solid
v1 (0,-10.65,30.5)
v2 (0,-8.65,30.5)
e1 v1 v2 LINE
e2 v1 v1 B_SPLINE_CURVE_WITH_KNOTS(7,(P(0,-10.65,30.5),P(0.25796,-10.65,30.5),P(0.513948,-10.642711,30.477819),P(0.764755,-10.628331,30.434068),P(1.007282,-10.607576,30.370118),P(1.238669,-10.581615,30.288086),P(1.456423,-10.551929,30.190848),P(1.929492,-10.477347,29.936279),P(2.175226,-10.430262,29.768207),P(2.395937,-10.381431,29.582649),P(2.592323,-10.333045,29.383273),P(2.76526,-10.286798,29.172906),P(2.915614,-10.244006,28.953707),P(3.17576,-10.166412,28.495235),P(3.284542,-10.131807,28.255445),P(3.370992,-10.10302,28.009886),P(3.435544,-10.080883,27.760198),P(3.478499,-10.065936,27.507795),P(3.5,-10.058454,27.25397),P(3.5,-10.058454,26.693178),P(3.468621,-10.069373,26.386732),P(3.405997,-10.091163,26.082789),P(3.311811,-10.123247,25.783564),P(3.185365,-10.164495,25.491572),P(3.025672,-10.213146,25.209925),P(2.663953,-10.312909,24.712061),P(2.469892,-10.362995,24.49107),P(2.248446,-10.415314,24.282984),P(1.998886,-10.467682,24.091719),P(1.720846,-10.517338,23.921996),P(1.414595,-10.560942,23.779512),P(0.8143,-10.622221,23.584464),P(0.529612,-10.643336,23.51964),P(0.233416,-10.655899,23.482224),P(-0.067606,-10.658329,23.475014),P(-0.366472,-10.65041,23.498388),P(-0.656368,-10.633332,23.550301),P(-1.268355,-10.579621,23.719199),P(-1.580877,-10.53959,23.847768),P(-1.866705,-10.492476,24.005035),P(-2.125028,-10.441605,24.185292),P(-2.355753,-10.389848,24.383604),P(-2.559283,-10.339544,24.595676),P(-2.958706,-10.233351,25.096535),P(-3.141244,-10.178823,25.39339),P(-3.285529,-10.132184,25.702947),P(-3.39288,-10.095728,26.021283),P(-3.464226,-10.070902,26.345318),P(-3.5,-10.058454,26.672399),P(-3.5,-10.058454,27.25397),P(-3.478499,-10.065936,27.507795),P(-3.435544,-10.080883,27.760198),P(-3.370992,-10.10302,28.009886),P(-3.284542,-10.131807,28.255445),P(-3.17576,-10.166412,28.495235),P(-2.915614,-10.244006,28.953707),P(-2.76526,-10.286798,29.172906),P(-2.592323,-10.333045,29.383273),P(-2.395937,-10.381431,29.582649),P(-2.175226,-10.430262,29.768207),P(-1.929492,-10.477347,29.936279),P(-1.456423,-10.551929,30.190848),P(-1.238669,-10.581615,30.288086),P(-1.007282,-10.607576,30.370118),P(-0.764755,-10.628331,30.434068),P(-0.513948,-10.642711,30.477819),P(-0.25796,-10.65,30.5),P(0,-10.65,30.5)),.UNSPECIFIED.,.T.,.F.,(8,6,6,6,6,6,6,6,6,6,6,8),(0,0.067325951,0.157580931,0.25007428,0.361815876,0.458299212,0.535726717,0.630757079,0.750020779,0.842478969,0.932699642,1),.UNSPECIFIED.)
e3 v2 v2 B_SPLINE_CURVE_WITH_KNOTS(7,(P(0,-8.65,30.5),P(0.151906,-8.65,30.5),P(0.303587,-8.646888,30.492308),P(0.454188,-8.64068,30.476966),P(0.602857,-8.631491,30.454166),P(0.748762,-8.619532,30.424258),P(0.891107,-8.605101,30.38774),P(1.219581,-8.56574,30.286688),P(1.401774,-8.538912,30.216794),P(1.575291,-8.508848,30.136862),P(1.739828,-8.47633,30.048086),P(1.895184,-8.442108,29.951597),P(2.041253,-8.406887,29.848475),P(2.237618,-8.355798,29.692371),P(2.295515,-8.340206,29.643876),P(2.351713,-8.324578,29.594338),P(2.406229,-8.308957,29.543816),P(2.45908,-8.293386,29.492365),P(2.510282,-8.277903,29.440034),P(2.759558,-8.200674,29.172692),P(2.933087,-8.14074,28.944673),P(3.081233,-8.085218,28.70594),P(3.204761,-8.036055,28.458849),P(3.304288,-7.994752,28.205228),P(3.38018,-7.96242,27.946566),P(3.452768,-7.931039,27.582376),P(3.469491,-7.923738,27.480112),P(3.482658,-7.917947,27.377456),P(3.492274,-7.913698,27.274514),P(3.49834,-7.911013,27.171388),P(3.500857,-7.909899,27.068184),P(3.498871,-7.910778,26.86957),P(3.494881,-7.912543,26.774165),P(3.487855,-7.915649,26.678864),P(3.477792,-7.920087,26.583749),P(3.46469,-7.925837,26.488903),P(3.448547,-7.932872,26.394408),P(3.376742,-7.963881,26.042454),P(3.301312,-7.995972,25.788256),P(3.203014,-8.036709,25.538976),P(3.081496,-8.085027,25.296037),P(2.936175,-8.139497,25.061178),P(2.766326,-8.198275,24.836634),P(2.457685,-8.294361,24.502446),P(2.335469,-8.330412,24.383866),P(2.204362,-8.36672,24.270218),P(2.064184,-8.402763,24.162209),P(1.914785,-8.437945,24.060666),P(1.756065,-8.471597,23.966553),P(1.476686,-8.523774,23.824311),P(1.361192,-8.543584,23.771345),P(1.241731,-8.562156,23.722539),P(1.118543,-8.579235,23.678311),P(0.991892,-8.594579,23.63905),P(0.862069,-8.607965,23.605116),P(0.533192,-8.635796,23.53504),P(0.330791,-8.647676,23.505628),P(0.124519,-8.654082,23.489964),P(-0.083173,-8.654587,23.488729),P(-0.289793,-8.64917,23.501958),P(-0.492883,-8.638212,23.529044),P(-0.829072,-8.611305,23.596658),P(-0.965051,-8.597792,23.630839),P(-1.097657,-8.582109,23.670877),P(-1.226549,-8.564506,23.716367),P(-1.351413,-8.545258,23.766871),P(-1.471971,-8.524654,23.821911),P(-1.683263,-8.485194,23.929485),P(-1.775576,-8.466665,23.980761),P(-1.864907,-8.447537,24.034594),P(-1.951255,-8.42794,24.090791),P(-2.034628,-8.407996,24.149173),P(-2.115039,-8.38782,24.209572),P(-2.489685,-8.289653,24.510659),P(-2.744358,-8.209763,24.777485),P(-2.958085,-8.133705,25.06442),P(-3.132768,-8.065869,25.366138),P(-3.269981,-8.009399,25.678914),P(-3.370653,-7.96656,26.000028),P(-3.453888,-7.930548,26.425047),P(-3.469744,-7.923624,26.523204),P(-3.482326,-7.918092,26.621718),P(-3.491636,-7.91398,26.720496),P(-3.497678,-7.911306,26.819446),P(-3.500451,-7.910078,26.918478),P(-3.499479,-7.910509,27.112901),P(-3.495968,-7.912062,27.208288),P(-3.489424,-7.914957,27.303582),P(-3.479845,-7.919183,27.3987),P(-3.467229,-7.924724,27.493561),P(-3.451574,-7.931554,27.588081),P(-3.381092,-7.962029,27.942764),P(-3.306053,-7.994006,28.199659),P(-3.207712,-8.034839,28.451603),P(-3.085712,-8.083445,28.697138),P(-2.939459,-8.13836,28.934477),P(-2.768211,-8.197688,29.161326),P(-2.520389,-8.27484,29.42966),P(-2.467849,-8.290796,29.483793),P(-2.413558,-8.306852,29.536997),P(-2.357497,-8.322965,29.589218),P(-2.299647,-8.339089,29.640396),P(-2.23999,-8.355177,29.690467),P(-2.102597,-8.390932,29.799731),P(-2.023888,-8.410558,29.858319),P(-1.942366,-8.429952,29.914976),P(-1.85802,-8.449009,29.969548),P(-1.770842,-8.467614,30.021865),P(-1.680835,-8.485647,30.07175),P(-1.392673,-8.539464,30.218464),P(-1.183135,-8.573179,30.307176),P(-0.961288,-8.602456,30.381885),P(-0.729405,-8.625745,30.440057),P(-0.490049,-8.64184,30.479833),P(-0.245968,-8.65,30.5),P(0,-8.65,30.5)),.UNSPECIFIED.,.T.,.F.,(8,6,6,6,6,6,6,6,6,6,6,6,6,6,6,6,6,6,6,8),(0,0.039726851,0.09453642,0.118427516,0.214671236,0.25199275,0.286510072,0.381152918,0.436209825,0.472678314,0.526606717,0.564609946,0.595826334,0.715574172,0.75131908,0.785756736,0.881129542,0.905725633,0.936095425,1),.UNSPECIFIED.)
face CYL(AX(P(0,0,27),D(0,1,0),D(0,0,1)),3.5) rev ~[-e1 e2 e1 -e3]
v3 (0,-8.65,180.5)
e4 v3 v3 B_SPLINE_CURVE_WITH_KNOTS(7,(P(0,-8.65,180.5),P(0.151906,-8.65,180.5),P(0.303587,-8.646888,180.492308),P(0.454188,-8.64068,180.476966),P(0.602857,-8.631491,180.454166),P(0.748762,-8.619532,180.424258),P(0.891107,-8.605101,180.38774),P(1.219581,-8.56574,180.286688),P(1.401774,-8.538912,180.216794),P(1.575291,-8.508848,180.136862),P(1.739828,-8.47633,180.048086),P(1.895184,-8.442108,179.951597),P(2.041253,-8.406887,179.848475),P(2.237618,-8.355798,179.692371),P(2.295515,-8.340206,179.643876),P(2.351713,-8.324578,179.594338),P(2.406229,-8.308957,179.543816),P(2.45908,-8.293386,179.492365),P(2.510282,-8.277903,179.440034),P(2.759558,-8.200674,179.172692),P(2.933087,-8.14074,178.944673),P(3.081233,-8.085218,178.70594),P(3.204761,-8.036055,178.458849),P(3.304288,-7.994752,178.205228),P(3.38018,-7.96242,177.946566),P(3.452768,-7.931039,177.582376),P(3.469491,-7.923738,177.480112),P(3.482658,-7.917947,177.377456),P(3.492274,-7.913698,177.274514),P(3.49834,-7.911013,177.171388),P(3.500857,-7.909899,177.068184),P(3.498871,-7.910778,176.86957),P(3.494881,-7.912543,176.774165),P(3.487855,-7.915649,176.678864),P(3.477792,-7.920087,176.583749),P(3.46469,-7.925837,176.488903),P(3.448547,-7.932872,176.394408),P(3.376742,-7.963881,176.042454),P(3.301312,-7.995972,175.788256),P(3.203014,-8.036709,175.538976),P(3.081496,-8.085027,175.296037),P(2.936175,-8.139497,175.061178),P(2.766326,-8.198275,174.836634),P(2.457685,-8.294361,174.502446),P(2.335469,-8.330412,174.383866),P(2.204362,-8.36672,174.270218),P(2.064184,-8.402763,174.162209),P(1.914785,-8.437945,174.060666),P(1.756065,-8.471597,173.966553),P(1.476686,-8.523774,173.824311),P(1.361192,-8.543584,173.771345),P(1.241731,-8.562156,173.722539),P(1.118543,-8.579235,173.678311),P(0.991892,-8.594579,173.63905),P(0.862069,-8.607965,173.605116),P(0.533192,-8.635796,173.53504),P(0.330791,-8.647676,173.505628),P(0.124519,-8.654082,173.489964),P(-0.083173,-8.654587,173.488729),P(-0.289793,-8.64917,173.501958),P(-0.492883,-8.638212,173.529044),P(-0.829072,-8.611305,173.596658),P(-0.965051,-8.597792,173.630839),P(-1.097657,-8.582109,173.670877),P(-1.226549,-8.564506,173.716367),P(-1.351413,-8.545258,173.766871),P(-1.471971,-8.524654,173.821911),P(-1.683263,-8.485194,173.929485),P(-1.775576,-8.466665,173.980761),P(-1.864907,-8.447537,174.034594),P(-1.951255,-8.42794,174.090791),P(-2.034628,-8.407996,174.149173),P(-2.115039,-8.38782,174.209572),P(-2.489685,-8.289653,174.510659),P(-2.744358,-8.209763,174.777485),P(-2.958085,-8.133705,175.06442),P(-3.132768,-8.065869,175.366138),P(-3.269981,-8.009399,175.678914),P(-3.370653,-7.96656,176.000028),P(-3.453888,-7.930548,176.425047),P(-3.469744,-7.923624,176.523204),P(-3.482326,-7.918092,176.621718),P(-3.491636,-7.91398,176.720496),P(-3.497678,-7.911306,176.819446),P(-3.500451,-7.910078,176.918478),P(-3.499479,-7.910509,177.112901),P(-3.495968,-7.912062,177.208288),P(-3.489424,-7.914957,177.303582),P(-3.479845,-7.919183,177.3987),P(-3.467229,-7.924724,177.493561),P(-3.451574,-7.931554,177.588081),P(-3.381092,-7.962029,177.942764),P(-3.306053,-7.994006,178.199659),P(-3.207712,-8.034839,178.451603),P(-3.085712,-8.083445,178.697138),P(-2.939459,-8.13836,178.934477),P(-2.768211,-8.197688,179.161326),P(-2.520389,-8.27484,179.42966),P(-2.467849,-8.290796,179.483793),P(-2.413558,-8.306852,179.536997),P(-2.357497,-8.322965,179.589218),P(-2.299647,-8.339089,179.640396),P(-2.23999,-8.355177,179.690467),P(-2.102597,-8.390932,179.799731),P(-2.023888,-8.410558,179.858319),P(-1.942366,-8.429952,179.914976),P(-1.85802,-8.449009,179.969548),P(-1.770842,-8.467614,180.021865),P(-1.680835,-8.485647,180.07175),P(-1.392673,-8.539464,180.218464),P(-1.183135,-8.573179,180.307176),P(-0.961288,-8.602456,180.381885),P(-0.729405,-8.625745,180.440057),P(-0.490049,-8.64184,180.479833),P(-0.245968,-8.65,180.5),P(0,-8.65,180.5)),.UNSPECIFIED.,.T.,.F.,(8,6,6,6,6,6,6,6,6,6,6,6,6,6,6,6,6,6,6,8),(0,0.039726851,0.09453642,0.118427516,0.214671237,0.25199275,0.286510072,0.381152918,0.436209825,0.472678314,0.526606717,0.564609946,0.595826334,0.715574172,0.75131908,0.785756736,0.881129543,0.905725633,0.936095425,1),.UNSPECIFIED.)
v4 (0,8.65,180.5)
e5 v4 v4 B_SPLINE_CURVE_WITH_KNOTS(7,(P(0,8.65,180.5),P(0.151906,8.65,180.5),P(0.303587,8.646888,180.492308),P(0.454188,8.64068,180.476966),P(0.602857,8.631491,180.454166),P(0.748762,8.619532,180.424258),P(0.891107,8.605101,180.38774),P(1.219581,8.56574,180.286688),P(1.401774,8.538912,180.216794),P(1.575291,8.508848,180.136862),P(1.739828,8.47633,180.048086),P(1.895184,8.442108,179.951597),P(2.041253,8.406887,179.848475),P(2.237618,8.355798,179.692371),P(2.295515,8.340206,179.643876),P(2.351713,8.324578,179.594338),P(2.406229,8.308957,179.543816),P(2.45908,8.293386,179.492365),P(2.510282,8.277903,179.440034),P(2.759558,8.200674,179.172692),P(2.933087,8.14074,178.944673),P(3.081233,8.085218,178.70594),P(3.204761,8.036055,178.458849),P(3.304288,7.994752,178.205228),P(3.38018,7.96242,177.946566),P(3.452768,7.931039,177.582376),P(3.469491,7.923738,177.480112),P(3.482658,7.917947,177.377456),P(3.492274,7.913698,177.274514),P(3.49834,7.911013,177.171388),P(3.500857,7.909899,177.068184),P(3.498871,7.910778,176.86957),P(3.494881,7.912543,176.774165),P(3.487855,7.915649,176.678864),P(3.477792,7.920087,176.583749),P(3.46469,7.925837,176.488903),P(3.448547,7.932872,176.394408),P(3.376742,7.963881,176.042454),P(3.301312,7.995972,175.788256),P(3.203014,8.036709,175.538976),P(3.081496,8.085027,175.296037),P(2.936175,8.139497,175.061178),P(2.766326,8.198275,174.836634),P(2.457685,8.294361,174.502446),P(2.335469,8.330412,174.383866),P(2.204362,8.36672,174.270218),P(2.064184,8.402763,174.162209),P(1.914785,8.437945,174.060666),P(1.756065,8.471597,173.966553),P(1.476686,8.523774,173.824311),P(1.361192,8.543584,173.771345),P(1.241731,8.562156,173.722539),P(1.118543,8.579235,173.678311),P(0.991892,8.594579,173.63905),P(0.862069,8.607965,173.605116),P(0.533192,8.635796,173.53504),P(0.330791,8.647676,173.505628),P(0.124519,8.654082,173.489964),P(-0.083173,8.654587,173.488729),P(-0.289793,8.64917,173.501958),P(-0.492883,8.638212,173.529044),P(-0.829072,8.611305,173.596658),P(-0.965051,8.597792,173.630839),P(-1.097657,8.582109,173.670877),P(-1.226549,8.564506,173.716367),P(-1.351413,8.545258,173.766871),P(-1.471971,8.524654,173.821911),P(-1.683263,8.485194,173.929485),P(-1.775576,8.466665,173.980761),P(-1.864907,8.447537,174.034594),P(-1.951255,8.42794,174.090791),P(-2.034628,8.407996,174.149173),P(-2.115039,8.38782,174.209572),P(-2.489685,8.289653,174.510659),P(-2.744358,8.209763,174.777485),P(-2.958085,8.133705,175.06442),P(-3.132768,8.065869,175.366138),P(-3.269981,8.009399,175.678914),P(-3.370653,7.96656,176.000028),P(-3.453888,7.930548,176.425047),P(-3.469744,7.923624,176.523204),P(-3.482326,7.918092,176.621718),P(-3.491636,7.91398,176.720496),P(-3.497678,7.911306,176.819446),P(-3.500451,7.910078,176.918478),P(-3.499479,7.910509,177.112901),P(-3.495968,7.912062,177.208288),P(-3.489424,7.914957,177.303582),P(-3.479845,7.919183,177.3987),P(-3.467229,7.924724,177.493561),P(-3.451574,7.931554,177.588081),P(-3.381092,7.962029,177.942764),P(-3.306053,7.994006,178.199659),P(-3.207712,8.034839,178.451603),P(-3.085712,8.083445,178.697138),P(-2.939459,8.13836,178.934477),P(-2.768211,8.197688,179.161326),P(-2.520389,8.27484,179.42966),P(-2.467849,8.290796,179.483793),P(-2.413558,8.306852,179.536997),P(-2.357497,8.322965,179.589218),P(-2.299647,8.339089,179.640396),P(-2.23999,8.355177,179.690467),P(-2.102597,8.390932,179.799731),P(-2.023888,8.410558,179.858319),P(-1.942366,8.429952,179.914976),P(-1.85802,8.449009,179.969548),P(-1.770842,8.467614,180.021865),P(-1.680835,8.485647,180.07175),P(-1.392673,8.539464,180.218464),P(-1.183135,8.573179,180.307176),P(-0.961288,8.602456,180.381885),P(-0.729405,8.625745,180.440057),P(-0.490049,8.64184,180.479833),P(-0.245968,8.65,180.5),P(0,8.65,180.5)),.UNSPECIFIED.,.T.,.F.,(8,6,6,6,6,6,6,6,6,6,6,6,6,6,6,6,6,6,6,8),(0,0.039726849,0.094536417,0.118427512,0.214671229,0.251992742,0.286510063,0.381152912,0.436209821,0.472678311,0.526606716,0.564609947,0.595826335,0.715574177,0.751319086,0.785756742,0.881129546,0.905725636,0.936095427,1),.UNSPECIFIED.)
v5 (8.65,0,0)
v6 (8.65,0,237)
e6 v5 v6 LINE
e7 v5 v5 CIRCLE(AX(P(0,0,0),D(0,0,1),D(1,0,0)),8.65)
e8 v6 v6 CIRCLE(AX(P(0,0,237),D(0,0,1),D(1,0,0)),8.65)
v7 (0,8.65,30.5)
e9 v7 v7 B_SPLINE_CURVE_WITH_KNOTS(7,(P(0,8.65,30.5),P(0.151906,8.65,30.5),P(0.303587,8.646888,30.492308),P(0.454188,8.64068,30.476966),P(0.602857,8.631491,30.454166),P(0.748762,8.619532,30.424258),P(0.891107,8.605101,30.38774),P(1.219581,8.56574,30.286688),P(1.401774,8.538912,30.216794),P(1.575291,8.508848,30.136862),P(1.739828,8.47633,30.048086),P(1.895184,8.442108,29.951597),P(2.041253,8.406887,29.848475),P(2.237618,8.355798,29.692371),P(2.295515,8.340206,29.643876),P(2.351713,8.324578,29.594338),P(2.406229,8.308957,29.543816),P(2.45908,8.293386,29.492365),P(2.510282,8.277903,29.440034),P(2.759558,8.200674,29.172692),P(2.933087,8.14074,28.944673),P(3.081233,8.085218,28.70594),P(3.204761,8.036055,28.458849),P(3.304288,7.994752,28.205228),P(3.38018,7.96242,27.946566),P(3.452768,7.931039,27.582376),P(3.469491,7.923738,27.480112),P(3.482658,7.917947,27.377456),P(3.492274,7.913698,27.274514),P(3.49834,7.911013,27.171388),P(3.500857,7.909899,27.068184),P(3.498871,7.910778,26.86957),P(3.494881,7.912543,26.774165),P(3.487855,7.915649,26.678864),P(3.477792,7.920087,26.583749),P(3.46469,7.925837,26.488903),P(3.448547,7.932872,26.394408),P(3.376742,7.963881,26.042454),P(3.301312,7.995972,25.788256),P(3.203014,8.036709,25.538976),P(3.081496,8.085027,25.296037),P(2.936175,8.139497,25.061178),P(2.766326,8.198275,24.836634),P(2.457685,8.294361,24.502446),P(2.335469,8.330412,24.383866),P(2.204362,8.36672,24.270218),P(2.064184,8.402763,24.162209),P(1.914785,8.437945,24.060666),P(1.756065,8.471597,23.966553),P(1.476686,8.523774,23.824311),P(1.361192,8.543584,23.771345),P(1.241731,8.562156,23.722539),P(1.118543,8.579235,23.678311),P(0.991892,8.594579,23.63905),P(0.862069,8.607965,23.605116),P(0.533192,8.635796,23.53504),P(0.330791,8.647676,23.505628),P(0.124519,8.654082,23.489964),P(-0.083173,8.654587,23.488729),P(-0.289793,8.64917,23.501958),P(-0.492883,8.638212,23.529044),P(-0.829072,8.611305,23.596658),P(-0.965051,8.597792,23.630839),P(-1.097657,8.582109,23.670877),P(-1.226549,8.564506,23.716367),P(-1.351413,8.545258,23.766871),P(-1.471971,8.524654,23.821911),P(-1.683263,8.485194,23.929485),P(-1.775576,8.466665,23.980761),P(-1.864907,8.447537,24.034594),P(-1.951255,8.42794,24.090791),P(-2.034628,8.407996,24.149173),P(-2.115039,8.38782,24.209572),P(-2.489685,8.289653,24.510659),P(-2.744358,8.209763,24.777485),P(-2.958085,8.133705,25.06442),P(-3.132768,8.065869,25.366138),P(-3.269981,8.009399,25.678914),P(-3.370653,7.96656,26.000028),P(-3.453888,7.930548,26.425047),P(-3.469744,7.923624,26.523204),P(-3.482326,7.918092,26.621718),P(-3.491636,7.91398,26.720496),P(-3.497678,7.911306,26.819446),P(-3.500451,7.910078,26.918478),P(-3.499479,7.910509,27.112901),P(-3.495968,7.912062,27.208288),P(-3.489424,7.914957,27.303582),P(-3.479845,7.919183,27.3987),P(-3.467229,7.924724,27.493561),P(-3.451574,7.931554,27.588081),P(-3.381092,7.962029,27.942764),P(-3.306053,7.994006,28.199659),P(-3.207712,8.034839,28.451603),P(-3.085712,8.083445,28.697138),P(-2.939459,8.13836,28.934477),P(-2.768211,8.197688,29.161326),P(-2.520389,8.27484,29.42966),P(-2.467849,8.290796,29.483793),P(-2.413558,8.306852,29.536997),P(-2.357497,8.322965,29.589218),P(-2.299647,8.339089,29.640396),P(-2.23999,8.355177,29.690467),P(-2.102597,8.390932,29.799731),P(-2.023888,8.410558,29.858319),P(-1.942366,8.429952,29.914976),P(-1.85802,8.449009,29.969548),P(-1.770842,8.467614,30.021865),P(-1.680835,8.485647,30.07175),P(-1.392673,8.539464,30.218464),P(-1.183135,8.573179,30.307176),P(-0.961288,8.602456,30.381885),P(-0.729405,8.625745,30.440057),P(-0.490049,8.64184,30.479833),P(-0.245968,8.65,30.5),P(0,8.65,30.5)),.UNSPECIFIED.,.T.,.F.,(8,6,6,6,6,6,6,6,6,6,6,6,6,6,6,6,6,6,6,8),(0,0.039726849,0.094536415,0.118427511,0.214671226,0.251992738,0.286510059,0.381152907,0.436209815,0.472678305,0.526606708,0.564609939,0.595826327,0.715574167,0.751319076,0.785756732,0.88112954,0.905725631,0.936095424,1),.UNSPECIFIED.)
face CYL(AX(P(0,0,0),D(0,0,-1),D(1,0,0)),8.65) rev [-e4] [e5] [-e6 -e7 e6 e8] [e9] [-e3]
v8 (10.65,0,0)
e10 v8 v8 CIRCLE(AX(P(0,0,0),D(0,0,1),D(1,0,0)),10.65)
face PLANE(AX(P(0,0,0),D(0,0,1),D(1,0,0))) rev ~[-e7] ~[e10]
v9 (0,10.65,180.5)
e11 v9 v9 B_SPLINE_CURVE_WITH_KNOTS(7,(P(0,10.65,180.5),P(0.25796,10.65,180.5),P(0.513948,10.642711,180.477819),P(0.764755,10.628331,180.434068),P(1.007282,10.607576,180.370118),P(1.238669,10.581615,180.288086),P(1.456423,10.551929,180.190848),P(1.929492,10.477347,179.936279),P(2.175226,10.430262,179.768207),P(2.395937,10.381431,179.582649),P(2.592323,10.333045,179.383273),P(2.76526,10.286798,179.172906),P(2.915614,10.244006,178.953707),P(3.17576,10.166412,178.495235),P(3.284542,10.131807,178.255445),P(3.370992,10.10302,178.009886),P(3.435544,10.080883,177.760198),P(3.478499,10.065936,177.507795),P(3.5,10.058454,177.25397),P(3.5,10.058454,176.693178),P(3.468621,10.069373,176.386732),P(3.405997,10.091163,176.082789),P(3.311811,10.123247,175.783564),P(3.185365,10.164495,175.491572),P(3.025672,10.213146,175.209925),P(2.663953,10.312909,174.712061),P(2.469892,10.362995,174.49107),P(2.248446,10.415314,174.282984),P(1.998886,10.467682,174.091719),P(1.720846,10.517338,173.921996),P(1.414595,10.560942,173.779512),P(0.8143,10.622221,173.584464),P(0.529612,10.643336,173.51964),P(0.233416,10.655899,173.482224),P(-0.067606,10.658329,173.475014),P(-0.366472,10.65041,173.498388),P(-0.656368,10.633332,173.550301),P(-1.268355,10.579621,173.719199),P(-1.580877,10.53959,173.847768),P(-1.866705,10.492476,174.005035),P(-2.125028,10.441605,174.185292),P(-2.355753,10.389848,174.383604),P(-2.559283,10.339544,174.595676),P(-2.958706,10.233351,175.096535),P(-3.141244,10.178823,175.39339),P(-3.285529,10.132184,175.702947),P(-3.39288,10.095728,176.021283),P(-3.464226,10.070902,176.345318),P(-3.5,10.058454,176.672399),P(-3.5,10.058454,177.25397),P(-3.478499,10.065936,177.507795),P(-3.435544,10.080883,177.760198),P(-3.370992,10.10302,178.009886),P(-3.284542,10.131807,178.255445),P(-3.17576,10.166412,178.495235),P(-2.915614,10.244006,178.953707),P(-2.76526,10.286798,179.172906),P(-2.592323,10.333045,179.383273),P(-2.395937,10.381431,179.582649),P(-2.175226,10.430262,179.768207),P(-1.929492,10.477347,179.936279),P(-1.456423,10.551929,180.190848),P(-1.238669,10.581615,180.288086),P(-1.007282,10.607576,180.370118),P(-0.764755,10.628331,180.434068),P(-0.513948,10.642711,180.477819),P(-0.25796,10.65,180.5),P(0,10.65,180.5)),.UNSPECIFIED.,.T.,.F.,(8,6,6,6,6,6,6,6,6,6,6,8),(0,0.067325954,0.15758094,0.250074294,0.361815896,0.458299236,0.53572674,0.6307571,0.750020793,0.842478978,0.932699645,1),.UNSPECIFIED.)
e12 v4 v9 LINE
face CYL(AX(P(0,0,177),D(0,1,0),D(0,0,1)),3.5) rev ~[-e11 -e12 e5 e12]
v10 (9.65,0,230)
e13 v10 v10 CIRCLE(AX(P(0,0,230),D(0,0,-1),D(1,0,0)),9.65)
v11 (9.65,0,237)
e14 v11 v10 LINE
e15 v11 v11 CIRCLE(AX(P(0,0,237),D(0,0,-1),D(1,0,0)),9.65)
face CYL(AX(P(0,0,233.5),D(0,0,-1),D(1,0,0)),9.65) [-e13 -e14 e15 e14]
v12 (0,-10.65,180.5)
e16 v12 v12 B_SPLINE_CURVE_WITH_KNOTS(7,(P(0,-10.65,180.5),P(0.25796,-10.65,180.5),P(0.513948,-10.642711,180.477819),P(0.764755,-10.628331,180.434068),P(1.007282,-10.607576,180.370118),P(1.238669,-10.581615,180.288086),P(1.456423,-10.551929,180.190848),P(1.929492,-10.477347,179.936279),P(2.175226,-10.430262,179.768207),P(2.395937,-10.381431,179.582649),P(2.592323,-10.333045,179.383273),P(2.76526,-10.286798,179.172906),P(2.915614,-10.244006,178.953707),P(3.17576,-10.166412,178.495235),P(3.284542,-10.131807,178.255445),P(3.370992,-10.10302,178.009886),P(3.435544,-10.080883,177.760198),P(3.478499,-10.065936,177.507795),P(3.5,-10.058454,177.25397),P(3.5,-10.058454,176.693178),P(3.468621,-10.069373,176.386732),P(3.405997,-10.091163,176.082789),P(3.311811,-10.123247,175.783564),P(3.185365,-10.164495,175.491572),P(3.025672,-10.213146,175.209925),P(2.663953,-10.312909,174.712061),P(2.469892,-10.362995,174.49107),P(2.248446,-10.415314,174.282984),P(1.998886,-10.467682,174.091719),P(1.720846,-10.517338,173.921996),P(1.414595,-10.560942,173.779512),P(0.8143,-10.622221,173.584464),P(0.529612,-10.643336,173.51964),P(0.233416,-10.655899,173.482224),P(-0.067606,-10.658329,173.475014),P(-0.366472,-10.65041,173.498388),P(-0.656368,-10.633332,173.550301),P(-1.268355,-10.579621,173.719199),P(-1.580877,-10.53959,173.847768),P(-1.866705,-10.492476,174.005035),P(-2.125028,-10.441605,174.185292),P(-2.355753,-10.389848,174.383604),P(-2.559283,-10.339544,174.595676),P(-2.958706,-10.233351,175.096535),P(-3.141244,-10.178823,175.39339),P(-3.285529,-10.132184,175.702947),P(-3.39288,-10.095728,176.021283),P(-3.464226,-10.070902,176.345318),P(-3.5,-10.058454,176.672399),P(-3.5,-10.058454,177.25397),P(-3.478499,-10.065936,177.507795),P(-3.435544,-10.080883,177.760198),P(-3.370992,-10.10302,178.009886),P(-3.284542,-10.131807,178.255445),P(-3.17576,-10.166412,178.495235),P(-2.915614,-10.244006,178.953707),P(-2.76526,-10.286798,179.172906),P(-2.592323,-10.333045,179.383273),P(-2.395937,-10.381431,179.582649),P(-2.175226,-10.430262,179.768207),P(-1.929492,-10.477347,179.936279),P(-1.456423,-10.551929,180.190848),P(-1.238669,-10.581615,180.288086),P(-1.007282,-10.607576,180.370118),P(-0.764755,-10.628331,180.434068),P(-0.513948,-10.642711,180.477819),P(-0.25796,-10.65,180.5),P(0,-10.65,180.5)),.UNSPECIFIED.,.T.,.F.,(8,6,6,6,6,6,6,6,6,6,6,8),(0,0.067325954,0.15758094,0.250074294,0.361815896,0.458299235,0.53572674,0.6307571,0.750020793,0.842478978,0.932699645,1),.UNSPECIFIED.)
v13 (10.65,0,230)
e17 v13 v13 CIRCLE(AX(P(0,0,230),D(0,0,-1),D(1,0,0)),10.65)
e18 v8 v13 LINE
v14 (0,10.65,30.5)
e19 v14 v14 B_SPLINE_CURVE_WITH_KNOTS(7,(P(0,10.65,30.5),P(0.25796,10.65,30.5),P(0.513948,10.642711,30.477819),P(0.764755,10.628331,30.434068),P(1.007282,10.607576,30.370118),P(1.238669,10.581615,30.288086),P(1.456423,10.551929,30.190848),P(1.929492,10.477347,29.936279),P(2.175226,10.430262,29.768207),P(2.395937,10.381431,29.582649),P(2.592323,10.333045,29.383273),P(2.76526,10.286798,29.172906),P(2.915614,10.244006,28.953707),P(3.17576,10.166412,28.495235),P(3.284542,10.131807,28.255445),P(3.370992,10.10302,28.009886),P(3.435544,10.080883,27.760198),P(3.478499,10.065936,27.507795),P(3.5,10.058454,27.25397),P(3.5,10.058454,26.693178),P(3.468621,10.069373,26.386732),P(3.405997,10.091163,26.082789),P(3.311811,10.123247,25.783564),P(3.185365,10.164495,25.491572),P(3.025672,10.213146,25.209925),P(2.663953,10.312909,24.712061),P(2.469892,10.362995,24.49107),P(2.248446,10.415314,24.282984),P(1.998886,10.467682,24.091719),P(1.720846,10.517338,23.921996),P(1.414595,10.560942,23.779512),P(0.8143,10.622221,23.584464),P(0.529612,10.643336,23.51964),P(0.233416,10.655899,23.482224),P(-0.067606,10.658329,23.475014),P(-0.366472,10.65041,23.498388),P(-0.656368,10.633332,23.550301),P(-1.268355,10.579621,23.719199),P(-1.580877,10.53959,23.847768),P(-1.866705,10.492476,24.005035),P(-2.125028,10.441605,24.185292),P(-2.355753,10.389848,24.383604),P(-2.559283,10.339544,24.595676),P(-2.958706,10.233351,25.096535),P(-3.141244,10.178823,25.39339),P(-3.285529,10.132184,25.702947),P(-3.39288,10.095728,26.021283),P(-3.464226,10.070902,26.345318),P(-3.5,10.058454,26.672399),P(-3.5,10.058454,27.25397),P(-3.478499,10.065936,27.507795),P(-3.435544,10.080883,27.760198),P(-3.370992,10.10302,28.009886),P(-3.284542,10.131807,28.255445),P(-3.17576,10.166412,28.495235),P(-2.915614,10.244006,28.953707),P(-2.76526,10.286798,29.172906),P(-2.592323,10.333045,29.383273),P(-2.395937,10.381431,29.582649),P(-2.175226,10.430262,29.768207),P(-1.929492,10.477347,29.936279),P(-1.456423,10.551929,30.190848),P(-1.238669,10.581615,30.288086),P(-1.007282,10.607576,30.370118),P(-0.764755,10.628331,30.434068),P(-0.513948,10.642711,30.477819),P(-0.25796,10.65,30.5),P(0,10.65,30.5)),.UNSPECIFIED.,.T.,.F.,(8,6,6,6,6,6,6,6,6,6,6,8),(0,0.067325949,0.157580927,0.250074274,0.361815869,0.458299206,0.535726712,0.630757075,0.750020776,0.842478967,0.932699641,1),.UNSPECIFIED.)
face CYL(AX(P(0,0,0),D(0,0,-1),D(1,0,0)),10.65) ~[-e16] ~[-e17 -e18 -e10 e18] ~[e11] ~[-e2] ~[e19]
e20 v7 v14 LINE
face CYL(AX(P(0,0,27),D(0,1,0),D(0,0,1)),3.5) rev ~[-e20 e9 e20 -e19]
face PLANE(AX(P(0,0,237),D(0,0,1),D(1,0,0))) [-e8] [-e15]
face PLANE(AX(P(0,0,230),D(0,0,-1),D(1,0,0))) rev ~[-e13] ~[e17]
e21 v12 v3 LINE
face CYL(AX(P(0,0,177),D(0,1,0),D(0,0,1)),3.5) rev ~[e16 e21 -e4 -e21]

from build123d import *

# Parameters (mm, degrees)
SKETCH1_R           = 10.65
SKETCH1_R_2         = 8.65
BOSS_EXTRUDE1_DEPTH = 237
SKETCH2_R           = 3.5
CUT_EXTRUDE1_DEPTH  = 238.478093727
LPATTERN1_COUNT     = 2
LPATTERN1_PITCH     = 150
SKETCH3_W           = 1
SKETCH3_H           = 7


with BuildPart() as part:
    # Sketch1 → Boss-Extrude1 (new body)
    with BuildSketch(Plane.XY):
        Circle(SKETCH1_R)
        Circle(SKETCH1_R_2, mode=Mode.SUBTRACT)
    extrude(amount=BOSS_EXTRUDE1_DEPTH)

    # Sketch2 → Cut-Extrude1 (cut, symmetric)
    with BuildSketch(Plane(origin=(0, 0, 0), x_dir=(1, 0, 0), z_dir=(0, 1, 0))):
        with Locations(Location((0, -177, 0), (0, 0, 270))):
            Circle(SKETCH2_R)
    cut_extrude1 = extrude(amount=CUT_EXTRUDE1_DEPTH, both=True, mode=Mode.SUBTRACT)

    # LPattern1: Cut-Extrude1 ×2
    with Locations(*[(0, 0, -i * LPATTERN1_PITCH) for i in range(1, LPATTERN1_COUNT)]):
        add(cut_extrude1, mode=Mode.SUBTRACT)

    # Sketch3 → Cut-Revolve1 (revolve, cut)
    with BuildSketch(Plane(origin=(0, 0, 0), x_dir=(1, 0, 0), z_dir=(0, 1, 0)), mode=Mode.PRIVATE) as cut_revolve1_sk:
        with Locations((-10.15, -233.5)):
            Rectangle(SKETCH3_W, SKETCH3_H)
    revolve(cut_revolve1_sk.sketch.rotate(Axis((0, 0, 237), (0, 0, -1)), 180), axis=Axis((0, 0, 237), (0, 0, -1)), mode=Mode.SUBTRACT)


solid = part.part
